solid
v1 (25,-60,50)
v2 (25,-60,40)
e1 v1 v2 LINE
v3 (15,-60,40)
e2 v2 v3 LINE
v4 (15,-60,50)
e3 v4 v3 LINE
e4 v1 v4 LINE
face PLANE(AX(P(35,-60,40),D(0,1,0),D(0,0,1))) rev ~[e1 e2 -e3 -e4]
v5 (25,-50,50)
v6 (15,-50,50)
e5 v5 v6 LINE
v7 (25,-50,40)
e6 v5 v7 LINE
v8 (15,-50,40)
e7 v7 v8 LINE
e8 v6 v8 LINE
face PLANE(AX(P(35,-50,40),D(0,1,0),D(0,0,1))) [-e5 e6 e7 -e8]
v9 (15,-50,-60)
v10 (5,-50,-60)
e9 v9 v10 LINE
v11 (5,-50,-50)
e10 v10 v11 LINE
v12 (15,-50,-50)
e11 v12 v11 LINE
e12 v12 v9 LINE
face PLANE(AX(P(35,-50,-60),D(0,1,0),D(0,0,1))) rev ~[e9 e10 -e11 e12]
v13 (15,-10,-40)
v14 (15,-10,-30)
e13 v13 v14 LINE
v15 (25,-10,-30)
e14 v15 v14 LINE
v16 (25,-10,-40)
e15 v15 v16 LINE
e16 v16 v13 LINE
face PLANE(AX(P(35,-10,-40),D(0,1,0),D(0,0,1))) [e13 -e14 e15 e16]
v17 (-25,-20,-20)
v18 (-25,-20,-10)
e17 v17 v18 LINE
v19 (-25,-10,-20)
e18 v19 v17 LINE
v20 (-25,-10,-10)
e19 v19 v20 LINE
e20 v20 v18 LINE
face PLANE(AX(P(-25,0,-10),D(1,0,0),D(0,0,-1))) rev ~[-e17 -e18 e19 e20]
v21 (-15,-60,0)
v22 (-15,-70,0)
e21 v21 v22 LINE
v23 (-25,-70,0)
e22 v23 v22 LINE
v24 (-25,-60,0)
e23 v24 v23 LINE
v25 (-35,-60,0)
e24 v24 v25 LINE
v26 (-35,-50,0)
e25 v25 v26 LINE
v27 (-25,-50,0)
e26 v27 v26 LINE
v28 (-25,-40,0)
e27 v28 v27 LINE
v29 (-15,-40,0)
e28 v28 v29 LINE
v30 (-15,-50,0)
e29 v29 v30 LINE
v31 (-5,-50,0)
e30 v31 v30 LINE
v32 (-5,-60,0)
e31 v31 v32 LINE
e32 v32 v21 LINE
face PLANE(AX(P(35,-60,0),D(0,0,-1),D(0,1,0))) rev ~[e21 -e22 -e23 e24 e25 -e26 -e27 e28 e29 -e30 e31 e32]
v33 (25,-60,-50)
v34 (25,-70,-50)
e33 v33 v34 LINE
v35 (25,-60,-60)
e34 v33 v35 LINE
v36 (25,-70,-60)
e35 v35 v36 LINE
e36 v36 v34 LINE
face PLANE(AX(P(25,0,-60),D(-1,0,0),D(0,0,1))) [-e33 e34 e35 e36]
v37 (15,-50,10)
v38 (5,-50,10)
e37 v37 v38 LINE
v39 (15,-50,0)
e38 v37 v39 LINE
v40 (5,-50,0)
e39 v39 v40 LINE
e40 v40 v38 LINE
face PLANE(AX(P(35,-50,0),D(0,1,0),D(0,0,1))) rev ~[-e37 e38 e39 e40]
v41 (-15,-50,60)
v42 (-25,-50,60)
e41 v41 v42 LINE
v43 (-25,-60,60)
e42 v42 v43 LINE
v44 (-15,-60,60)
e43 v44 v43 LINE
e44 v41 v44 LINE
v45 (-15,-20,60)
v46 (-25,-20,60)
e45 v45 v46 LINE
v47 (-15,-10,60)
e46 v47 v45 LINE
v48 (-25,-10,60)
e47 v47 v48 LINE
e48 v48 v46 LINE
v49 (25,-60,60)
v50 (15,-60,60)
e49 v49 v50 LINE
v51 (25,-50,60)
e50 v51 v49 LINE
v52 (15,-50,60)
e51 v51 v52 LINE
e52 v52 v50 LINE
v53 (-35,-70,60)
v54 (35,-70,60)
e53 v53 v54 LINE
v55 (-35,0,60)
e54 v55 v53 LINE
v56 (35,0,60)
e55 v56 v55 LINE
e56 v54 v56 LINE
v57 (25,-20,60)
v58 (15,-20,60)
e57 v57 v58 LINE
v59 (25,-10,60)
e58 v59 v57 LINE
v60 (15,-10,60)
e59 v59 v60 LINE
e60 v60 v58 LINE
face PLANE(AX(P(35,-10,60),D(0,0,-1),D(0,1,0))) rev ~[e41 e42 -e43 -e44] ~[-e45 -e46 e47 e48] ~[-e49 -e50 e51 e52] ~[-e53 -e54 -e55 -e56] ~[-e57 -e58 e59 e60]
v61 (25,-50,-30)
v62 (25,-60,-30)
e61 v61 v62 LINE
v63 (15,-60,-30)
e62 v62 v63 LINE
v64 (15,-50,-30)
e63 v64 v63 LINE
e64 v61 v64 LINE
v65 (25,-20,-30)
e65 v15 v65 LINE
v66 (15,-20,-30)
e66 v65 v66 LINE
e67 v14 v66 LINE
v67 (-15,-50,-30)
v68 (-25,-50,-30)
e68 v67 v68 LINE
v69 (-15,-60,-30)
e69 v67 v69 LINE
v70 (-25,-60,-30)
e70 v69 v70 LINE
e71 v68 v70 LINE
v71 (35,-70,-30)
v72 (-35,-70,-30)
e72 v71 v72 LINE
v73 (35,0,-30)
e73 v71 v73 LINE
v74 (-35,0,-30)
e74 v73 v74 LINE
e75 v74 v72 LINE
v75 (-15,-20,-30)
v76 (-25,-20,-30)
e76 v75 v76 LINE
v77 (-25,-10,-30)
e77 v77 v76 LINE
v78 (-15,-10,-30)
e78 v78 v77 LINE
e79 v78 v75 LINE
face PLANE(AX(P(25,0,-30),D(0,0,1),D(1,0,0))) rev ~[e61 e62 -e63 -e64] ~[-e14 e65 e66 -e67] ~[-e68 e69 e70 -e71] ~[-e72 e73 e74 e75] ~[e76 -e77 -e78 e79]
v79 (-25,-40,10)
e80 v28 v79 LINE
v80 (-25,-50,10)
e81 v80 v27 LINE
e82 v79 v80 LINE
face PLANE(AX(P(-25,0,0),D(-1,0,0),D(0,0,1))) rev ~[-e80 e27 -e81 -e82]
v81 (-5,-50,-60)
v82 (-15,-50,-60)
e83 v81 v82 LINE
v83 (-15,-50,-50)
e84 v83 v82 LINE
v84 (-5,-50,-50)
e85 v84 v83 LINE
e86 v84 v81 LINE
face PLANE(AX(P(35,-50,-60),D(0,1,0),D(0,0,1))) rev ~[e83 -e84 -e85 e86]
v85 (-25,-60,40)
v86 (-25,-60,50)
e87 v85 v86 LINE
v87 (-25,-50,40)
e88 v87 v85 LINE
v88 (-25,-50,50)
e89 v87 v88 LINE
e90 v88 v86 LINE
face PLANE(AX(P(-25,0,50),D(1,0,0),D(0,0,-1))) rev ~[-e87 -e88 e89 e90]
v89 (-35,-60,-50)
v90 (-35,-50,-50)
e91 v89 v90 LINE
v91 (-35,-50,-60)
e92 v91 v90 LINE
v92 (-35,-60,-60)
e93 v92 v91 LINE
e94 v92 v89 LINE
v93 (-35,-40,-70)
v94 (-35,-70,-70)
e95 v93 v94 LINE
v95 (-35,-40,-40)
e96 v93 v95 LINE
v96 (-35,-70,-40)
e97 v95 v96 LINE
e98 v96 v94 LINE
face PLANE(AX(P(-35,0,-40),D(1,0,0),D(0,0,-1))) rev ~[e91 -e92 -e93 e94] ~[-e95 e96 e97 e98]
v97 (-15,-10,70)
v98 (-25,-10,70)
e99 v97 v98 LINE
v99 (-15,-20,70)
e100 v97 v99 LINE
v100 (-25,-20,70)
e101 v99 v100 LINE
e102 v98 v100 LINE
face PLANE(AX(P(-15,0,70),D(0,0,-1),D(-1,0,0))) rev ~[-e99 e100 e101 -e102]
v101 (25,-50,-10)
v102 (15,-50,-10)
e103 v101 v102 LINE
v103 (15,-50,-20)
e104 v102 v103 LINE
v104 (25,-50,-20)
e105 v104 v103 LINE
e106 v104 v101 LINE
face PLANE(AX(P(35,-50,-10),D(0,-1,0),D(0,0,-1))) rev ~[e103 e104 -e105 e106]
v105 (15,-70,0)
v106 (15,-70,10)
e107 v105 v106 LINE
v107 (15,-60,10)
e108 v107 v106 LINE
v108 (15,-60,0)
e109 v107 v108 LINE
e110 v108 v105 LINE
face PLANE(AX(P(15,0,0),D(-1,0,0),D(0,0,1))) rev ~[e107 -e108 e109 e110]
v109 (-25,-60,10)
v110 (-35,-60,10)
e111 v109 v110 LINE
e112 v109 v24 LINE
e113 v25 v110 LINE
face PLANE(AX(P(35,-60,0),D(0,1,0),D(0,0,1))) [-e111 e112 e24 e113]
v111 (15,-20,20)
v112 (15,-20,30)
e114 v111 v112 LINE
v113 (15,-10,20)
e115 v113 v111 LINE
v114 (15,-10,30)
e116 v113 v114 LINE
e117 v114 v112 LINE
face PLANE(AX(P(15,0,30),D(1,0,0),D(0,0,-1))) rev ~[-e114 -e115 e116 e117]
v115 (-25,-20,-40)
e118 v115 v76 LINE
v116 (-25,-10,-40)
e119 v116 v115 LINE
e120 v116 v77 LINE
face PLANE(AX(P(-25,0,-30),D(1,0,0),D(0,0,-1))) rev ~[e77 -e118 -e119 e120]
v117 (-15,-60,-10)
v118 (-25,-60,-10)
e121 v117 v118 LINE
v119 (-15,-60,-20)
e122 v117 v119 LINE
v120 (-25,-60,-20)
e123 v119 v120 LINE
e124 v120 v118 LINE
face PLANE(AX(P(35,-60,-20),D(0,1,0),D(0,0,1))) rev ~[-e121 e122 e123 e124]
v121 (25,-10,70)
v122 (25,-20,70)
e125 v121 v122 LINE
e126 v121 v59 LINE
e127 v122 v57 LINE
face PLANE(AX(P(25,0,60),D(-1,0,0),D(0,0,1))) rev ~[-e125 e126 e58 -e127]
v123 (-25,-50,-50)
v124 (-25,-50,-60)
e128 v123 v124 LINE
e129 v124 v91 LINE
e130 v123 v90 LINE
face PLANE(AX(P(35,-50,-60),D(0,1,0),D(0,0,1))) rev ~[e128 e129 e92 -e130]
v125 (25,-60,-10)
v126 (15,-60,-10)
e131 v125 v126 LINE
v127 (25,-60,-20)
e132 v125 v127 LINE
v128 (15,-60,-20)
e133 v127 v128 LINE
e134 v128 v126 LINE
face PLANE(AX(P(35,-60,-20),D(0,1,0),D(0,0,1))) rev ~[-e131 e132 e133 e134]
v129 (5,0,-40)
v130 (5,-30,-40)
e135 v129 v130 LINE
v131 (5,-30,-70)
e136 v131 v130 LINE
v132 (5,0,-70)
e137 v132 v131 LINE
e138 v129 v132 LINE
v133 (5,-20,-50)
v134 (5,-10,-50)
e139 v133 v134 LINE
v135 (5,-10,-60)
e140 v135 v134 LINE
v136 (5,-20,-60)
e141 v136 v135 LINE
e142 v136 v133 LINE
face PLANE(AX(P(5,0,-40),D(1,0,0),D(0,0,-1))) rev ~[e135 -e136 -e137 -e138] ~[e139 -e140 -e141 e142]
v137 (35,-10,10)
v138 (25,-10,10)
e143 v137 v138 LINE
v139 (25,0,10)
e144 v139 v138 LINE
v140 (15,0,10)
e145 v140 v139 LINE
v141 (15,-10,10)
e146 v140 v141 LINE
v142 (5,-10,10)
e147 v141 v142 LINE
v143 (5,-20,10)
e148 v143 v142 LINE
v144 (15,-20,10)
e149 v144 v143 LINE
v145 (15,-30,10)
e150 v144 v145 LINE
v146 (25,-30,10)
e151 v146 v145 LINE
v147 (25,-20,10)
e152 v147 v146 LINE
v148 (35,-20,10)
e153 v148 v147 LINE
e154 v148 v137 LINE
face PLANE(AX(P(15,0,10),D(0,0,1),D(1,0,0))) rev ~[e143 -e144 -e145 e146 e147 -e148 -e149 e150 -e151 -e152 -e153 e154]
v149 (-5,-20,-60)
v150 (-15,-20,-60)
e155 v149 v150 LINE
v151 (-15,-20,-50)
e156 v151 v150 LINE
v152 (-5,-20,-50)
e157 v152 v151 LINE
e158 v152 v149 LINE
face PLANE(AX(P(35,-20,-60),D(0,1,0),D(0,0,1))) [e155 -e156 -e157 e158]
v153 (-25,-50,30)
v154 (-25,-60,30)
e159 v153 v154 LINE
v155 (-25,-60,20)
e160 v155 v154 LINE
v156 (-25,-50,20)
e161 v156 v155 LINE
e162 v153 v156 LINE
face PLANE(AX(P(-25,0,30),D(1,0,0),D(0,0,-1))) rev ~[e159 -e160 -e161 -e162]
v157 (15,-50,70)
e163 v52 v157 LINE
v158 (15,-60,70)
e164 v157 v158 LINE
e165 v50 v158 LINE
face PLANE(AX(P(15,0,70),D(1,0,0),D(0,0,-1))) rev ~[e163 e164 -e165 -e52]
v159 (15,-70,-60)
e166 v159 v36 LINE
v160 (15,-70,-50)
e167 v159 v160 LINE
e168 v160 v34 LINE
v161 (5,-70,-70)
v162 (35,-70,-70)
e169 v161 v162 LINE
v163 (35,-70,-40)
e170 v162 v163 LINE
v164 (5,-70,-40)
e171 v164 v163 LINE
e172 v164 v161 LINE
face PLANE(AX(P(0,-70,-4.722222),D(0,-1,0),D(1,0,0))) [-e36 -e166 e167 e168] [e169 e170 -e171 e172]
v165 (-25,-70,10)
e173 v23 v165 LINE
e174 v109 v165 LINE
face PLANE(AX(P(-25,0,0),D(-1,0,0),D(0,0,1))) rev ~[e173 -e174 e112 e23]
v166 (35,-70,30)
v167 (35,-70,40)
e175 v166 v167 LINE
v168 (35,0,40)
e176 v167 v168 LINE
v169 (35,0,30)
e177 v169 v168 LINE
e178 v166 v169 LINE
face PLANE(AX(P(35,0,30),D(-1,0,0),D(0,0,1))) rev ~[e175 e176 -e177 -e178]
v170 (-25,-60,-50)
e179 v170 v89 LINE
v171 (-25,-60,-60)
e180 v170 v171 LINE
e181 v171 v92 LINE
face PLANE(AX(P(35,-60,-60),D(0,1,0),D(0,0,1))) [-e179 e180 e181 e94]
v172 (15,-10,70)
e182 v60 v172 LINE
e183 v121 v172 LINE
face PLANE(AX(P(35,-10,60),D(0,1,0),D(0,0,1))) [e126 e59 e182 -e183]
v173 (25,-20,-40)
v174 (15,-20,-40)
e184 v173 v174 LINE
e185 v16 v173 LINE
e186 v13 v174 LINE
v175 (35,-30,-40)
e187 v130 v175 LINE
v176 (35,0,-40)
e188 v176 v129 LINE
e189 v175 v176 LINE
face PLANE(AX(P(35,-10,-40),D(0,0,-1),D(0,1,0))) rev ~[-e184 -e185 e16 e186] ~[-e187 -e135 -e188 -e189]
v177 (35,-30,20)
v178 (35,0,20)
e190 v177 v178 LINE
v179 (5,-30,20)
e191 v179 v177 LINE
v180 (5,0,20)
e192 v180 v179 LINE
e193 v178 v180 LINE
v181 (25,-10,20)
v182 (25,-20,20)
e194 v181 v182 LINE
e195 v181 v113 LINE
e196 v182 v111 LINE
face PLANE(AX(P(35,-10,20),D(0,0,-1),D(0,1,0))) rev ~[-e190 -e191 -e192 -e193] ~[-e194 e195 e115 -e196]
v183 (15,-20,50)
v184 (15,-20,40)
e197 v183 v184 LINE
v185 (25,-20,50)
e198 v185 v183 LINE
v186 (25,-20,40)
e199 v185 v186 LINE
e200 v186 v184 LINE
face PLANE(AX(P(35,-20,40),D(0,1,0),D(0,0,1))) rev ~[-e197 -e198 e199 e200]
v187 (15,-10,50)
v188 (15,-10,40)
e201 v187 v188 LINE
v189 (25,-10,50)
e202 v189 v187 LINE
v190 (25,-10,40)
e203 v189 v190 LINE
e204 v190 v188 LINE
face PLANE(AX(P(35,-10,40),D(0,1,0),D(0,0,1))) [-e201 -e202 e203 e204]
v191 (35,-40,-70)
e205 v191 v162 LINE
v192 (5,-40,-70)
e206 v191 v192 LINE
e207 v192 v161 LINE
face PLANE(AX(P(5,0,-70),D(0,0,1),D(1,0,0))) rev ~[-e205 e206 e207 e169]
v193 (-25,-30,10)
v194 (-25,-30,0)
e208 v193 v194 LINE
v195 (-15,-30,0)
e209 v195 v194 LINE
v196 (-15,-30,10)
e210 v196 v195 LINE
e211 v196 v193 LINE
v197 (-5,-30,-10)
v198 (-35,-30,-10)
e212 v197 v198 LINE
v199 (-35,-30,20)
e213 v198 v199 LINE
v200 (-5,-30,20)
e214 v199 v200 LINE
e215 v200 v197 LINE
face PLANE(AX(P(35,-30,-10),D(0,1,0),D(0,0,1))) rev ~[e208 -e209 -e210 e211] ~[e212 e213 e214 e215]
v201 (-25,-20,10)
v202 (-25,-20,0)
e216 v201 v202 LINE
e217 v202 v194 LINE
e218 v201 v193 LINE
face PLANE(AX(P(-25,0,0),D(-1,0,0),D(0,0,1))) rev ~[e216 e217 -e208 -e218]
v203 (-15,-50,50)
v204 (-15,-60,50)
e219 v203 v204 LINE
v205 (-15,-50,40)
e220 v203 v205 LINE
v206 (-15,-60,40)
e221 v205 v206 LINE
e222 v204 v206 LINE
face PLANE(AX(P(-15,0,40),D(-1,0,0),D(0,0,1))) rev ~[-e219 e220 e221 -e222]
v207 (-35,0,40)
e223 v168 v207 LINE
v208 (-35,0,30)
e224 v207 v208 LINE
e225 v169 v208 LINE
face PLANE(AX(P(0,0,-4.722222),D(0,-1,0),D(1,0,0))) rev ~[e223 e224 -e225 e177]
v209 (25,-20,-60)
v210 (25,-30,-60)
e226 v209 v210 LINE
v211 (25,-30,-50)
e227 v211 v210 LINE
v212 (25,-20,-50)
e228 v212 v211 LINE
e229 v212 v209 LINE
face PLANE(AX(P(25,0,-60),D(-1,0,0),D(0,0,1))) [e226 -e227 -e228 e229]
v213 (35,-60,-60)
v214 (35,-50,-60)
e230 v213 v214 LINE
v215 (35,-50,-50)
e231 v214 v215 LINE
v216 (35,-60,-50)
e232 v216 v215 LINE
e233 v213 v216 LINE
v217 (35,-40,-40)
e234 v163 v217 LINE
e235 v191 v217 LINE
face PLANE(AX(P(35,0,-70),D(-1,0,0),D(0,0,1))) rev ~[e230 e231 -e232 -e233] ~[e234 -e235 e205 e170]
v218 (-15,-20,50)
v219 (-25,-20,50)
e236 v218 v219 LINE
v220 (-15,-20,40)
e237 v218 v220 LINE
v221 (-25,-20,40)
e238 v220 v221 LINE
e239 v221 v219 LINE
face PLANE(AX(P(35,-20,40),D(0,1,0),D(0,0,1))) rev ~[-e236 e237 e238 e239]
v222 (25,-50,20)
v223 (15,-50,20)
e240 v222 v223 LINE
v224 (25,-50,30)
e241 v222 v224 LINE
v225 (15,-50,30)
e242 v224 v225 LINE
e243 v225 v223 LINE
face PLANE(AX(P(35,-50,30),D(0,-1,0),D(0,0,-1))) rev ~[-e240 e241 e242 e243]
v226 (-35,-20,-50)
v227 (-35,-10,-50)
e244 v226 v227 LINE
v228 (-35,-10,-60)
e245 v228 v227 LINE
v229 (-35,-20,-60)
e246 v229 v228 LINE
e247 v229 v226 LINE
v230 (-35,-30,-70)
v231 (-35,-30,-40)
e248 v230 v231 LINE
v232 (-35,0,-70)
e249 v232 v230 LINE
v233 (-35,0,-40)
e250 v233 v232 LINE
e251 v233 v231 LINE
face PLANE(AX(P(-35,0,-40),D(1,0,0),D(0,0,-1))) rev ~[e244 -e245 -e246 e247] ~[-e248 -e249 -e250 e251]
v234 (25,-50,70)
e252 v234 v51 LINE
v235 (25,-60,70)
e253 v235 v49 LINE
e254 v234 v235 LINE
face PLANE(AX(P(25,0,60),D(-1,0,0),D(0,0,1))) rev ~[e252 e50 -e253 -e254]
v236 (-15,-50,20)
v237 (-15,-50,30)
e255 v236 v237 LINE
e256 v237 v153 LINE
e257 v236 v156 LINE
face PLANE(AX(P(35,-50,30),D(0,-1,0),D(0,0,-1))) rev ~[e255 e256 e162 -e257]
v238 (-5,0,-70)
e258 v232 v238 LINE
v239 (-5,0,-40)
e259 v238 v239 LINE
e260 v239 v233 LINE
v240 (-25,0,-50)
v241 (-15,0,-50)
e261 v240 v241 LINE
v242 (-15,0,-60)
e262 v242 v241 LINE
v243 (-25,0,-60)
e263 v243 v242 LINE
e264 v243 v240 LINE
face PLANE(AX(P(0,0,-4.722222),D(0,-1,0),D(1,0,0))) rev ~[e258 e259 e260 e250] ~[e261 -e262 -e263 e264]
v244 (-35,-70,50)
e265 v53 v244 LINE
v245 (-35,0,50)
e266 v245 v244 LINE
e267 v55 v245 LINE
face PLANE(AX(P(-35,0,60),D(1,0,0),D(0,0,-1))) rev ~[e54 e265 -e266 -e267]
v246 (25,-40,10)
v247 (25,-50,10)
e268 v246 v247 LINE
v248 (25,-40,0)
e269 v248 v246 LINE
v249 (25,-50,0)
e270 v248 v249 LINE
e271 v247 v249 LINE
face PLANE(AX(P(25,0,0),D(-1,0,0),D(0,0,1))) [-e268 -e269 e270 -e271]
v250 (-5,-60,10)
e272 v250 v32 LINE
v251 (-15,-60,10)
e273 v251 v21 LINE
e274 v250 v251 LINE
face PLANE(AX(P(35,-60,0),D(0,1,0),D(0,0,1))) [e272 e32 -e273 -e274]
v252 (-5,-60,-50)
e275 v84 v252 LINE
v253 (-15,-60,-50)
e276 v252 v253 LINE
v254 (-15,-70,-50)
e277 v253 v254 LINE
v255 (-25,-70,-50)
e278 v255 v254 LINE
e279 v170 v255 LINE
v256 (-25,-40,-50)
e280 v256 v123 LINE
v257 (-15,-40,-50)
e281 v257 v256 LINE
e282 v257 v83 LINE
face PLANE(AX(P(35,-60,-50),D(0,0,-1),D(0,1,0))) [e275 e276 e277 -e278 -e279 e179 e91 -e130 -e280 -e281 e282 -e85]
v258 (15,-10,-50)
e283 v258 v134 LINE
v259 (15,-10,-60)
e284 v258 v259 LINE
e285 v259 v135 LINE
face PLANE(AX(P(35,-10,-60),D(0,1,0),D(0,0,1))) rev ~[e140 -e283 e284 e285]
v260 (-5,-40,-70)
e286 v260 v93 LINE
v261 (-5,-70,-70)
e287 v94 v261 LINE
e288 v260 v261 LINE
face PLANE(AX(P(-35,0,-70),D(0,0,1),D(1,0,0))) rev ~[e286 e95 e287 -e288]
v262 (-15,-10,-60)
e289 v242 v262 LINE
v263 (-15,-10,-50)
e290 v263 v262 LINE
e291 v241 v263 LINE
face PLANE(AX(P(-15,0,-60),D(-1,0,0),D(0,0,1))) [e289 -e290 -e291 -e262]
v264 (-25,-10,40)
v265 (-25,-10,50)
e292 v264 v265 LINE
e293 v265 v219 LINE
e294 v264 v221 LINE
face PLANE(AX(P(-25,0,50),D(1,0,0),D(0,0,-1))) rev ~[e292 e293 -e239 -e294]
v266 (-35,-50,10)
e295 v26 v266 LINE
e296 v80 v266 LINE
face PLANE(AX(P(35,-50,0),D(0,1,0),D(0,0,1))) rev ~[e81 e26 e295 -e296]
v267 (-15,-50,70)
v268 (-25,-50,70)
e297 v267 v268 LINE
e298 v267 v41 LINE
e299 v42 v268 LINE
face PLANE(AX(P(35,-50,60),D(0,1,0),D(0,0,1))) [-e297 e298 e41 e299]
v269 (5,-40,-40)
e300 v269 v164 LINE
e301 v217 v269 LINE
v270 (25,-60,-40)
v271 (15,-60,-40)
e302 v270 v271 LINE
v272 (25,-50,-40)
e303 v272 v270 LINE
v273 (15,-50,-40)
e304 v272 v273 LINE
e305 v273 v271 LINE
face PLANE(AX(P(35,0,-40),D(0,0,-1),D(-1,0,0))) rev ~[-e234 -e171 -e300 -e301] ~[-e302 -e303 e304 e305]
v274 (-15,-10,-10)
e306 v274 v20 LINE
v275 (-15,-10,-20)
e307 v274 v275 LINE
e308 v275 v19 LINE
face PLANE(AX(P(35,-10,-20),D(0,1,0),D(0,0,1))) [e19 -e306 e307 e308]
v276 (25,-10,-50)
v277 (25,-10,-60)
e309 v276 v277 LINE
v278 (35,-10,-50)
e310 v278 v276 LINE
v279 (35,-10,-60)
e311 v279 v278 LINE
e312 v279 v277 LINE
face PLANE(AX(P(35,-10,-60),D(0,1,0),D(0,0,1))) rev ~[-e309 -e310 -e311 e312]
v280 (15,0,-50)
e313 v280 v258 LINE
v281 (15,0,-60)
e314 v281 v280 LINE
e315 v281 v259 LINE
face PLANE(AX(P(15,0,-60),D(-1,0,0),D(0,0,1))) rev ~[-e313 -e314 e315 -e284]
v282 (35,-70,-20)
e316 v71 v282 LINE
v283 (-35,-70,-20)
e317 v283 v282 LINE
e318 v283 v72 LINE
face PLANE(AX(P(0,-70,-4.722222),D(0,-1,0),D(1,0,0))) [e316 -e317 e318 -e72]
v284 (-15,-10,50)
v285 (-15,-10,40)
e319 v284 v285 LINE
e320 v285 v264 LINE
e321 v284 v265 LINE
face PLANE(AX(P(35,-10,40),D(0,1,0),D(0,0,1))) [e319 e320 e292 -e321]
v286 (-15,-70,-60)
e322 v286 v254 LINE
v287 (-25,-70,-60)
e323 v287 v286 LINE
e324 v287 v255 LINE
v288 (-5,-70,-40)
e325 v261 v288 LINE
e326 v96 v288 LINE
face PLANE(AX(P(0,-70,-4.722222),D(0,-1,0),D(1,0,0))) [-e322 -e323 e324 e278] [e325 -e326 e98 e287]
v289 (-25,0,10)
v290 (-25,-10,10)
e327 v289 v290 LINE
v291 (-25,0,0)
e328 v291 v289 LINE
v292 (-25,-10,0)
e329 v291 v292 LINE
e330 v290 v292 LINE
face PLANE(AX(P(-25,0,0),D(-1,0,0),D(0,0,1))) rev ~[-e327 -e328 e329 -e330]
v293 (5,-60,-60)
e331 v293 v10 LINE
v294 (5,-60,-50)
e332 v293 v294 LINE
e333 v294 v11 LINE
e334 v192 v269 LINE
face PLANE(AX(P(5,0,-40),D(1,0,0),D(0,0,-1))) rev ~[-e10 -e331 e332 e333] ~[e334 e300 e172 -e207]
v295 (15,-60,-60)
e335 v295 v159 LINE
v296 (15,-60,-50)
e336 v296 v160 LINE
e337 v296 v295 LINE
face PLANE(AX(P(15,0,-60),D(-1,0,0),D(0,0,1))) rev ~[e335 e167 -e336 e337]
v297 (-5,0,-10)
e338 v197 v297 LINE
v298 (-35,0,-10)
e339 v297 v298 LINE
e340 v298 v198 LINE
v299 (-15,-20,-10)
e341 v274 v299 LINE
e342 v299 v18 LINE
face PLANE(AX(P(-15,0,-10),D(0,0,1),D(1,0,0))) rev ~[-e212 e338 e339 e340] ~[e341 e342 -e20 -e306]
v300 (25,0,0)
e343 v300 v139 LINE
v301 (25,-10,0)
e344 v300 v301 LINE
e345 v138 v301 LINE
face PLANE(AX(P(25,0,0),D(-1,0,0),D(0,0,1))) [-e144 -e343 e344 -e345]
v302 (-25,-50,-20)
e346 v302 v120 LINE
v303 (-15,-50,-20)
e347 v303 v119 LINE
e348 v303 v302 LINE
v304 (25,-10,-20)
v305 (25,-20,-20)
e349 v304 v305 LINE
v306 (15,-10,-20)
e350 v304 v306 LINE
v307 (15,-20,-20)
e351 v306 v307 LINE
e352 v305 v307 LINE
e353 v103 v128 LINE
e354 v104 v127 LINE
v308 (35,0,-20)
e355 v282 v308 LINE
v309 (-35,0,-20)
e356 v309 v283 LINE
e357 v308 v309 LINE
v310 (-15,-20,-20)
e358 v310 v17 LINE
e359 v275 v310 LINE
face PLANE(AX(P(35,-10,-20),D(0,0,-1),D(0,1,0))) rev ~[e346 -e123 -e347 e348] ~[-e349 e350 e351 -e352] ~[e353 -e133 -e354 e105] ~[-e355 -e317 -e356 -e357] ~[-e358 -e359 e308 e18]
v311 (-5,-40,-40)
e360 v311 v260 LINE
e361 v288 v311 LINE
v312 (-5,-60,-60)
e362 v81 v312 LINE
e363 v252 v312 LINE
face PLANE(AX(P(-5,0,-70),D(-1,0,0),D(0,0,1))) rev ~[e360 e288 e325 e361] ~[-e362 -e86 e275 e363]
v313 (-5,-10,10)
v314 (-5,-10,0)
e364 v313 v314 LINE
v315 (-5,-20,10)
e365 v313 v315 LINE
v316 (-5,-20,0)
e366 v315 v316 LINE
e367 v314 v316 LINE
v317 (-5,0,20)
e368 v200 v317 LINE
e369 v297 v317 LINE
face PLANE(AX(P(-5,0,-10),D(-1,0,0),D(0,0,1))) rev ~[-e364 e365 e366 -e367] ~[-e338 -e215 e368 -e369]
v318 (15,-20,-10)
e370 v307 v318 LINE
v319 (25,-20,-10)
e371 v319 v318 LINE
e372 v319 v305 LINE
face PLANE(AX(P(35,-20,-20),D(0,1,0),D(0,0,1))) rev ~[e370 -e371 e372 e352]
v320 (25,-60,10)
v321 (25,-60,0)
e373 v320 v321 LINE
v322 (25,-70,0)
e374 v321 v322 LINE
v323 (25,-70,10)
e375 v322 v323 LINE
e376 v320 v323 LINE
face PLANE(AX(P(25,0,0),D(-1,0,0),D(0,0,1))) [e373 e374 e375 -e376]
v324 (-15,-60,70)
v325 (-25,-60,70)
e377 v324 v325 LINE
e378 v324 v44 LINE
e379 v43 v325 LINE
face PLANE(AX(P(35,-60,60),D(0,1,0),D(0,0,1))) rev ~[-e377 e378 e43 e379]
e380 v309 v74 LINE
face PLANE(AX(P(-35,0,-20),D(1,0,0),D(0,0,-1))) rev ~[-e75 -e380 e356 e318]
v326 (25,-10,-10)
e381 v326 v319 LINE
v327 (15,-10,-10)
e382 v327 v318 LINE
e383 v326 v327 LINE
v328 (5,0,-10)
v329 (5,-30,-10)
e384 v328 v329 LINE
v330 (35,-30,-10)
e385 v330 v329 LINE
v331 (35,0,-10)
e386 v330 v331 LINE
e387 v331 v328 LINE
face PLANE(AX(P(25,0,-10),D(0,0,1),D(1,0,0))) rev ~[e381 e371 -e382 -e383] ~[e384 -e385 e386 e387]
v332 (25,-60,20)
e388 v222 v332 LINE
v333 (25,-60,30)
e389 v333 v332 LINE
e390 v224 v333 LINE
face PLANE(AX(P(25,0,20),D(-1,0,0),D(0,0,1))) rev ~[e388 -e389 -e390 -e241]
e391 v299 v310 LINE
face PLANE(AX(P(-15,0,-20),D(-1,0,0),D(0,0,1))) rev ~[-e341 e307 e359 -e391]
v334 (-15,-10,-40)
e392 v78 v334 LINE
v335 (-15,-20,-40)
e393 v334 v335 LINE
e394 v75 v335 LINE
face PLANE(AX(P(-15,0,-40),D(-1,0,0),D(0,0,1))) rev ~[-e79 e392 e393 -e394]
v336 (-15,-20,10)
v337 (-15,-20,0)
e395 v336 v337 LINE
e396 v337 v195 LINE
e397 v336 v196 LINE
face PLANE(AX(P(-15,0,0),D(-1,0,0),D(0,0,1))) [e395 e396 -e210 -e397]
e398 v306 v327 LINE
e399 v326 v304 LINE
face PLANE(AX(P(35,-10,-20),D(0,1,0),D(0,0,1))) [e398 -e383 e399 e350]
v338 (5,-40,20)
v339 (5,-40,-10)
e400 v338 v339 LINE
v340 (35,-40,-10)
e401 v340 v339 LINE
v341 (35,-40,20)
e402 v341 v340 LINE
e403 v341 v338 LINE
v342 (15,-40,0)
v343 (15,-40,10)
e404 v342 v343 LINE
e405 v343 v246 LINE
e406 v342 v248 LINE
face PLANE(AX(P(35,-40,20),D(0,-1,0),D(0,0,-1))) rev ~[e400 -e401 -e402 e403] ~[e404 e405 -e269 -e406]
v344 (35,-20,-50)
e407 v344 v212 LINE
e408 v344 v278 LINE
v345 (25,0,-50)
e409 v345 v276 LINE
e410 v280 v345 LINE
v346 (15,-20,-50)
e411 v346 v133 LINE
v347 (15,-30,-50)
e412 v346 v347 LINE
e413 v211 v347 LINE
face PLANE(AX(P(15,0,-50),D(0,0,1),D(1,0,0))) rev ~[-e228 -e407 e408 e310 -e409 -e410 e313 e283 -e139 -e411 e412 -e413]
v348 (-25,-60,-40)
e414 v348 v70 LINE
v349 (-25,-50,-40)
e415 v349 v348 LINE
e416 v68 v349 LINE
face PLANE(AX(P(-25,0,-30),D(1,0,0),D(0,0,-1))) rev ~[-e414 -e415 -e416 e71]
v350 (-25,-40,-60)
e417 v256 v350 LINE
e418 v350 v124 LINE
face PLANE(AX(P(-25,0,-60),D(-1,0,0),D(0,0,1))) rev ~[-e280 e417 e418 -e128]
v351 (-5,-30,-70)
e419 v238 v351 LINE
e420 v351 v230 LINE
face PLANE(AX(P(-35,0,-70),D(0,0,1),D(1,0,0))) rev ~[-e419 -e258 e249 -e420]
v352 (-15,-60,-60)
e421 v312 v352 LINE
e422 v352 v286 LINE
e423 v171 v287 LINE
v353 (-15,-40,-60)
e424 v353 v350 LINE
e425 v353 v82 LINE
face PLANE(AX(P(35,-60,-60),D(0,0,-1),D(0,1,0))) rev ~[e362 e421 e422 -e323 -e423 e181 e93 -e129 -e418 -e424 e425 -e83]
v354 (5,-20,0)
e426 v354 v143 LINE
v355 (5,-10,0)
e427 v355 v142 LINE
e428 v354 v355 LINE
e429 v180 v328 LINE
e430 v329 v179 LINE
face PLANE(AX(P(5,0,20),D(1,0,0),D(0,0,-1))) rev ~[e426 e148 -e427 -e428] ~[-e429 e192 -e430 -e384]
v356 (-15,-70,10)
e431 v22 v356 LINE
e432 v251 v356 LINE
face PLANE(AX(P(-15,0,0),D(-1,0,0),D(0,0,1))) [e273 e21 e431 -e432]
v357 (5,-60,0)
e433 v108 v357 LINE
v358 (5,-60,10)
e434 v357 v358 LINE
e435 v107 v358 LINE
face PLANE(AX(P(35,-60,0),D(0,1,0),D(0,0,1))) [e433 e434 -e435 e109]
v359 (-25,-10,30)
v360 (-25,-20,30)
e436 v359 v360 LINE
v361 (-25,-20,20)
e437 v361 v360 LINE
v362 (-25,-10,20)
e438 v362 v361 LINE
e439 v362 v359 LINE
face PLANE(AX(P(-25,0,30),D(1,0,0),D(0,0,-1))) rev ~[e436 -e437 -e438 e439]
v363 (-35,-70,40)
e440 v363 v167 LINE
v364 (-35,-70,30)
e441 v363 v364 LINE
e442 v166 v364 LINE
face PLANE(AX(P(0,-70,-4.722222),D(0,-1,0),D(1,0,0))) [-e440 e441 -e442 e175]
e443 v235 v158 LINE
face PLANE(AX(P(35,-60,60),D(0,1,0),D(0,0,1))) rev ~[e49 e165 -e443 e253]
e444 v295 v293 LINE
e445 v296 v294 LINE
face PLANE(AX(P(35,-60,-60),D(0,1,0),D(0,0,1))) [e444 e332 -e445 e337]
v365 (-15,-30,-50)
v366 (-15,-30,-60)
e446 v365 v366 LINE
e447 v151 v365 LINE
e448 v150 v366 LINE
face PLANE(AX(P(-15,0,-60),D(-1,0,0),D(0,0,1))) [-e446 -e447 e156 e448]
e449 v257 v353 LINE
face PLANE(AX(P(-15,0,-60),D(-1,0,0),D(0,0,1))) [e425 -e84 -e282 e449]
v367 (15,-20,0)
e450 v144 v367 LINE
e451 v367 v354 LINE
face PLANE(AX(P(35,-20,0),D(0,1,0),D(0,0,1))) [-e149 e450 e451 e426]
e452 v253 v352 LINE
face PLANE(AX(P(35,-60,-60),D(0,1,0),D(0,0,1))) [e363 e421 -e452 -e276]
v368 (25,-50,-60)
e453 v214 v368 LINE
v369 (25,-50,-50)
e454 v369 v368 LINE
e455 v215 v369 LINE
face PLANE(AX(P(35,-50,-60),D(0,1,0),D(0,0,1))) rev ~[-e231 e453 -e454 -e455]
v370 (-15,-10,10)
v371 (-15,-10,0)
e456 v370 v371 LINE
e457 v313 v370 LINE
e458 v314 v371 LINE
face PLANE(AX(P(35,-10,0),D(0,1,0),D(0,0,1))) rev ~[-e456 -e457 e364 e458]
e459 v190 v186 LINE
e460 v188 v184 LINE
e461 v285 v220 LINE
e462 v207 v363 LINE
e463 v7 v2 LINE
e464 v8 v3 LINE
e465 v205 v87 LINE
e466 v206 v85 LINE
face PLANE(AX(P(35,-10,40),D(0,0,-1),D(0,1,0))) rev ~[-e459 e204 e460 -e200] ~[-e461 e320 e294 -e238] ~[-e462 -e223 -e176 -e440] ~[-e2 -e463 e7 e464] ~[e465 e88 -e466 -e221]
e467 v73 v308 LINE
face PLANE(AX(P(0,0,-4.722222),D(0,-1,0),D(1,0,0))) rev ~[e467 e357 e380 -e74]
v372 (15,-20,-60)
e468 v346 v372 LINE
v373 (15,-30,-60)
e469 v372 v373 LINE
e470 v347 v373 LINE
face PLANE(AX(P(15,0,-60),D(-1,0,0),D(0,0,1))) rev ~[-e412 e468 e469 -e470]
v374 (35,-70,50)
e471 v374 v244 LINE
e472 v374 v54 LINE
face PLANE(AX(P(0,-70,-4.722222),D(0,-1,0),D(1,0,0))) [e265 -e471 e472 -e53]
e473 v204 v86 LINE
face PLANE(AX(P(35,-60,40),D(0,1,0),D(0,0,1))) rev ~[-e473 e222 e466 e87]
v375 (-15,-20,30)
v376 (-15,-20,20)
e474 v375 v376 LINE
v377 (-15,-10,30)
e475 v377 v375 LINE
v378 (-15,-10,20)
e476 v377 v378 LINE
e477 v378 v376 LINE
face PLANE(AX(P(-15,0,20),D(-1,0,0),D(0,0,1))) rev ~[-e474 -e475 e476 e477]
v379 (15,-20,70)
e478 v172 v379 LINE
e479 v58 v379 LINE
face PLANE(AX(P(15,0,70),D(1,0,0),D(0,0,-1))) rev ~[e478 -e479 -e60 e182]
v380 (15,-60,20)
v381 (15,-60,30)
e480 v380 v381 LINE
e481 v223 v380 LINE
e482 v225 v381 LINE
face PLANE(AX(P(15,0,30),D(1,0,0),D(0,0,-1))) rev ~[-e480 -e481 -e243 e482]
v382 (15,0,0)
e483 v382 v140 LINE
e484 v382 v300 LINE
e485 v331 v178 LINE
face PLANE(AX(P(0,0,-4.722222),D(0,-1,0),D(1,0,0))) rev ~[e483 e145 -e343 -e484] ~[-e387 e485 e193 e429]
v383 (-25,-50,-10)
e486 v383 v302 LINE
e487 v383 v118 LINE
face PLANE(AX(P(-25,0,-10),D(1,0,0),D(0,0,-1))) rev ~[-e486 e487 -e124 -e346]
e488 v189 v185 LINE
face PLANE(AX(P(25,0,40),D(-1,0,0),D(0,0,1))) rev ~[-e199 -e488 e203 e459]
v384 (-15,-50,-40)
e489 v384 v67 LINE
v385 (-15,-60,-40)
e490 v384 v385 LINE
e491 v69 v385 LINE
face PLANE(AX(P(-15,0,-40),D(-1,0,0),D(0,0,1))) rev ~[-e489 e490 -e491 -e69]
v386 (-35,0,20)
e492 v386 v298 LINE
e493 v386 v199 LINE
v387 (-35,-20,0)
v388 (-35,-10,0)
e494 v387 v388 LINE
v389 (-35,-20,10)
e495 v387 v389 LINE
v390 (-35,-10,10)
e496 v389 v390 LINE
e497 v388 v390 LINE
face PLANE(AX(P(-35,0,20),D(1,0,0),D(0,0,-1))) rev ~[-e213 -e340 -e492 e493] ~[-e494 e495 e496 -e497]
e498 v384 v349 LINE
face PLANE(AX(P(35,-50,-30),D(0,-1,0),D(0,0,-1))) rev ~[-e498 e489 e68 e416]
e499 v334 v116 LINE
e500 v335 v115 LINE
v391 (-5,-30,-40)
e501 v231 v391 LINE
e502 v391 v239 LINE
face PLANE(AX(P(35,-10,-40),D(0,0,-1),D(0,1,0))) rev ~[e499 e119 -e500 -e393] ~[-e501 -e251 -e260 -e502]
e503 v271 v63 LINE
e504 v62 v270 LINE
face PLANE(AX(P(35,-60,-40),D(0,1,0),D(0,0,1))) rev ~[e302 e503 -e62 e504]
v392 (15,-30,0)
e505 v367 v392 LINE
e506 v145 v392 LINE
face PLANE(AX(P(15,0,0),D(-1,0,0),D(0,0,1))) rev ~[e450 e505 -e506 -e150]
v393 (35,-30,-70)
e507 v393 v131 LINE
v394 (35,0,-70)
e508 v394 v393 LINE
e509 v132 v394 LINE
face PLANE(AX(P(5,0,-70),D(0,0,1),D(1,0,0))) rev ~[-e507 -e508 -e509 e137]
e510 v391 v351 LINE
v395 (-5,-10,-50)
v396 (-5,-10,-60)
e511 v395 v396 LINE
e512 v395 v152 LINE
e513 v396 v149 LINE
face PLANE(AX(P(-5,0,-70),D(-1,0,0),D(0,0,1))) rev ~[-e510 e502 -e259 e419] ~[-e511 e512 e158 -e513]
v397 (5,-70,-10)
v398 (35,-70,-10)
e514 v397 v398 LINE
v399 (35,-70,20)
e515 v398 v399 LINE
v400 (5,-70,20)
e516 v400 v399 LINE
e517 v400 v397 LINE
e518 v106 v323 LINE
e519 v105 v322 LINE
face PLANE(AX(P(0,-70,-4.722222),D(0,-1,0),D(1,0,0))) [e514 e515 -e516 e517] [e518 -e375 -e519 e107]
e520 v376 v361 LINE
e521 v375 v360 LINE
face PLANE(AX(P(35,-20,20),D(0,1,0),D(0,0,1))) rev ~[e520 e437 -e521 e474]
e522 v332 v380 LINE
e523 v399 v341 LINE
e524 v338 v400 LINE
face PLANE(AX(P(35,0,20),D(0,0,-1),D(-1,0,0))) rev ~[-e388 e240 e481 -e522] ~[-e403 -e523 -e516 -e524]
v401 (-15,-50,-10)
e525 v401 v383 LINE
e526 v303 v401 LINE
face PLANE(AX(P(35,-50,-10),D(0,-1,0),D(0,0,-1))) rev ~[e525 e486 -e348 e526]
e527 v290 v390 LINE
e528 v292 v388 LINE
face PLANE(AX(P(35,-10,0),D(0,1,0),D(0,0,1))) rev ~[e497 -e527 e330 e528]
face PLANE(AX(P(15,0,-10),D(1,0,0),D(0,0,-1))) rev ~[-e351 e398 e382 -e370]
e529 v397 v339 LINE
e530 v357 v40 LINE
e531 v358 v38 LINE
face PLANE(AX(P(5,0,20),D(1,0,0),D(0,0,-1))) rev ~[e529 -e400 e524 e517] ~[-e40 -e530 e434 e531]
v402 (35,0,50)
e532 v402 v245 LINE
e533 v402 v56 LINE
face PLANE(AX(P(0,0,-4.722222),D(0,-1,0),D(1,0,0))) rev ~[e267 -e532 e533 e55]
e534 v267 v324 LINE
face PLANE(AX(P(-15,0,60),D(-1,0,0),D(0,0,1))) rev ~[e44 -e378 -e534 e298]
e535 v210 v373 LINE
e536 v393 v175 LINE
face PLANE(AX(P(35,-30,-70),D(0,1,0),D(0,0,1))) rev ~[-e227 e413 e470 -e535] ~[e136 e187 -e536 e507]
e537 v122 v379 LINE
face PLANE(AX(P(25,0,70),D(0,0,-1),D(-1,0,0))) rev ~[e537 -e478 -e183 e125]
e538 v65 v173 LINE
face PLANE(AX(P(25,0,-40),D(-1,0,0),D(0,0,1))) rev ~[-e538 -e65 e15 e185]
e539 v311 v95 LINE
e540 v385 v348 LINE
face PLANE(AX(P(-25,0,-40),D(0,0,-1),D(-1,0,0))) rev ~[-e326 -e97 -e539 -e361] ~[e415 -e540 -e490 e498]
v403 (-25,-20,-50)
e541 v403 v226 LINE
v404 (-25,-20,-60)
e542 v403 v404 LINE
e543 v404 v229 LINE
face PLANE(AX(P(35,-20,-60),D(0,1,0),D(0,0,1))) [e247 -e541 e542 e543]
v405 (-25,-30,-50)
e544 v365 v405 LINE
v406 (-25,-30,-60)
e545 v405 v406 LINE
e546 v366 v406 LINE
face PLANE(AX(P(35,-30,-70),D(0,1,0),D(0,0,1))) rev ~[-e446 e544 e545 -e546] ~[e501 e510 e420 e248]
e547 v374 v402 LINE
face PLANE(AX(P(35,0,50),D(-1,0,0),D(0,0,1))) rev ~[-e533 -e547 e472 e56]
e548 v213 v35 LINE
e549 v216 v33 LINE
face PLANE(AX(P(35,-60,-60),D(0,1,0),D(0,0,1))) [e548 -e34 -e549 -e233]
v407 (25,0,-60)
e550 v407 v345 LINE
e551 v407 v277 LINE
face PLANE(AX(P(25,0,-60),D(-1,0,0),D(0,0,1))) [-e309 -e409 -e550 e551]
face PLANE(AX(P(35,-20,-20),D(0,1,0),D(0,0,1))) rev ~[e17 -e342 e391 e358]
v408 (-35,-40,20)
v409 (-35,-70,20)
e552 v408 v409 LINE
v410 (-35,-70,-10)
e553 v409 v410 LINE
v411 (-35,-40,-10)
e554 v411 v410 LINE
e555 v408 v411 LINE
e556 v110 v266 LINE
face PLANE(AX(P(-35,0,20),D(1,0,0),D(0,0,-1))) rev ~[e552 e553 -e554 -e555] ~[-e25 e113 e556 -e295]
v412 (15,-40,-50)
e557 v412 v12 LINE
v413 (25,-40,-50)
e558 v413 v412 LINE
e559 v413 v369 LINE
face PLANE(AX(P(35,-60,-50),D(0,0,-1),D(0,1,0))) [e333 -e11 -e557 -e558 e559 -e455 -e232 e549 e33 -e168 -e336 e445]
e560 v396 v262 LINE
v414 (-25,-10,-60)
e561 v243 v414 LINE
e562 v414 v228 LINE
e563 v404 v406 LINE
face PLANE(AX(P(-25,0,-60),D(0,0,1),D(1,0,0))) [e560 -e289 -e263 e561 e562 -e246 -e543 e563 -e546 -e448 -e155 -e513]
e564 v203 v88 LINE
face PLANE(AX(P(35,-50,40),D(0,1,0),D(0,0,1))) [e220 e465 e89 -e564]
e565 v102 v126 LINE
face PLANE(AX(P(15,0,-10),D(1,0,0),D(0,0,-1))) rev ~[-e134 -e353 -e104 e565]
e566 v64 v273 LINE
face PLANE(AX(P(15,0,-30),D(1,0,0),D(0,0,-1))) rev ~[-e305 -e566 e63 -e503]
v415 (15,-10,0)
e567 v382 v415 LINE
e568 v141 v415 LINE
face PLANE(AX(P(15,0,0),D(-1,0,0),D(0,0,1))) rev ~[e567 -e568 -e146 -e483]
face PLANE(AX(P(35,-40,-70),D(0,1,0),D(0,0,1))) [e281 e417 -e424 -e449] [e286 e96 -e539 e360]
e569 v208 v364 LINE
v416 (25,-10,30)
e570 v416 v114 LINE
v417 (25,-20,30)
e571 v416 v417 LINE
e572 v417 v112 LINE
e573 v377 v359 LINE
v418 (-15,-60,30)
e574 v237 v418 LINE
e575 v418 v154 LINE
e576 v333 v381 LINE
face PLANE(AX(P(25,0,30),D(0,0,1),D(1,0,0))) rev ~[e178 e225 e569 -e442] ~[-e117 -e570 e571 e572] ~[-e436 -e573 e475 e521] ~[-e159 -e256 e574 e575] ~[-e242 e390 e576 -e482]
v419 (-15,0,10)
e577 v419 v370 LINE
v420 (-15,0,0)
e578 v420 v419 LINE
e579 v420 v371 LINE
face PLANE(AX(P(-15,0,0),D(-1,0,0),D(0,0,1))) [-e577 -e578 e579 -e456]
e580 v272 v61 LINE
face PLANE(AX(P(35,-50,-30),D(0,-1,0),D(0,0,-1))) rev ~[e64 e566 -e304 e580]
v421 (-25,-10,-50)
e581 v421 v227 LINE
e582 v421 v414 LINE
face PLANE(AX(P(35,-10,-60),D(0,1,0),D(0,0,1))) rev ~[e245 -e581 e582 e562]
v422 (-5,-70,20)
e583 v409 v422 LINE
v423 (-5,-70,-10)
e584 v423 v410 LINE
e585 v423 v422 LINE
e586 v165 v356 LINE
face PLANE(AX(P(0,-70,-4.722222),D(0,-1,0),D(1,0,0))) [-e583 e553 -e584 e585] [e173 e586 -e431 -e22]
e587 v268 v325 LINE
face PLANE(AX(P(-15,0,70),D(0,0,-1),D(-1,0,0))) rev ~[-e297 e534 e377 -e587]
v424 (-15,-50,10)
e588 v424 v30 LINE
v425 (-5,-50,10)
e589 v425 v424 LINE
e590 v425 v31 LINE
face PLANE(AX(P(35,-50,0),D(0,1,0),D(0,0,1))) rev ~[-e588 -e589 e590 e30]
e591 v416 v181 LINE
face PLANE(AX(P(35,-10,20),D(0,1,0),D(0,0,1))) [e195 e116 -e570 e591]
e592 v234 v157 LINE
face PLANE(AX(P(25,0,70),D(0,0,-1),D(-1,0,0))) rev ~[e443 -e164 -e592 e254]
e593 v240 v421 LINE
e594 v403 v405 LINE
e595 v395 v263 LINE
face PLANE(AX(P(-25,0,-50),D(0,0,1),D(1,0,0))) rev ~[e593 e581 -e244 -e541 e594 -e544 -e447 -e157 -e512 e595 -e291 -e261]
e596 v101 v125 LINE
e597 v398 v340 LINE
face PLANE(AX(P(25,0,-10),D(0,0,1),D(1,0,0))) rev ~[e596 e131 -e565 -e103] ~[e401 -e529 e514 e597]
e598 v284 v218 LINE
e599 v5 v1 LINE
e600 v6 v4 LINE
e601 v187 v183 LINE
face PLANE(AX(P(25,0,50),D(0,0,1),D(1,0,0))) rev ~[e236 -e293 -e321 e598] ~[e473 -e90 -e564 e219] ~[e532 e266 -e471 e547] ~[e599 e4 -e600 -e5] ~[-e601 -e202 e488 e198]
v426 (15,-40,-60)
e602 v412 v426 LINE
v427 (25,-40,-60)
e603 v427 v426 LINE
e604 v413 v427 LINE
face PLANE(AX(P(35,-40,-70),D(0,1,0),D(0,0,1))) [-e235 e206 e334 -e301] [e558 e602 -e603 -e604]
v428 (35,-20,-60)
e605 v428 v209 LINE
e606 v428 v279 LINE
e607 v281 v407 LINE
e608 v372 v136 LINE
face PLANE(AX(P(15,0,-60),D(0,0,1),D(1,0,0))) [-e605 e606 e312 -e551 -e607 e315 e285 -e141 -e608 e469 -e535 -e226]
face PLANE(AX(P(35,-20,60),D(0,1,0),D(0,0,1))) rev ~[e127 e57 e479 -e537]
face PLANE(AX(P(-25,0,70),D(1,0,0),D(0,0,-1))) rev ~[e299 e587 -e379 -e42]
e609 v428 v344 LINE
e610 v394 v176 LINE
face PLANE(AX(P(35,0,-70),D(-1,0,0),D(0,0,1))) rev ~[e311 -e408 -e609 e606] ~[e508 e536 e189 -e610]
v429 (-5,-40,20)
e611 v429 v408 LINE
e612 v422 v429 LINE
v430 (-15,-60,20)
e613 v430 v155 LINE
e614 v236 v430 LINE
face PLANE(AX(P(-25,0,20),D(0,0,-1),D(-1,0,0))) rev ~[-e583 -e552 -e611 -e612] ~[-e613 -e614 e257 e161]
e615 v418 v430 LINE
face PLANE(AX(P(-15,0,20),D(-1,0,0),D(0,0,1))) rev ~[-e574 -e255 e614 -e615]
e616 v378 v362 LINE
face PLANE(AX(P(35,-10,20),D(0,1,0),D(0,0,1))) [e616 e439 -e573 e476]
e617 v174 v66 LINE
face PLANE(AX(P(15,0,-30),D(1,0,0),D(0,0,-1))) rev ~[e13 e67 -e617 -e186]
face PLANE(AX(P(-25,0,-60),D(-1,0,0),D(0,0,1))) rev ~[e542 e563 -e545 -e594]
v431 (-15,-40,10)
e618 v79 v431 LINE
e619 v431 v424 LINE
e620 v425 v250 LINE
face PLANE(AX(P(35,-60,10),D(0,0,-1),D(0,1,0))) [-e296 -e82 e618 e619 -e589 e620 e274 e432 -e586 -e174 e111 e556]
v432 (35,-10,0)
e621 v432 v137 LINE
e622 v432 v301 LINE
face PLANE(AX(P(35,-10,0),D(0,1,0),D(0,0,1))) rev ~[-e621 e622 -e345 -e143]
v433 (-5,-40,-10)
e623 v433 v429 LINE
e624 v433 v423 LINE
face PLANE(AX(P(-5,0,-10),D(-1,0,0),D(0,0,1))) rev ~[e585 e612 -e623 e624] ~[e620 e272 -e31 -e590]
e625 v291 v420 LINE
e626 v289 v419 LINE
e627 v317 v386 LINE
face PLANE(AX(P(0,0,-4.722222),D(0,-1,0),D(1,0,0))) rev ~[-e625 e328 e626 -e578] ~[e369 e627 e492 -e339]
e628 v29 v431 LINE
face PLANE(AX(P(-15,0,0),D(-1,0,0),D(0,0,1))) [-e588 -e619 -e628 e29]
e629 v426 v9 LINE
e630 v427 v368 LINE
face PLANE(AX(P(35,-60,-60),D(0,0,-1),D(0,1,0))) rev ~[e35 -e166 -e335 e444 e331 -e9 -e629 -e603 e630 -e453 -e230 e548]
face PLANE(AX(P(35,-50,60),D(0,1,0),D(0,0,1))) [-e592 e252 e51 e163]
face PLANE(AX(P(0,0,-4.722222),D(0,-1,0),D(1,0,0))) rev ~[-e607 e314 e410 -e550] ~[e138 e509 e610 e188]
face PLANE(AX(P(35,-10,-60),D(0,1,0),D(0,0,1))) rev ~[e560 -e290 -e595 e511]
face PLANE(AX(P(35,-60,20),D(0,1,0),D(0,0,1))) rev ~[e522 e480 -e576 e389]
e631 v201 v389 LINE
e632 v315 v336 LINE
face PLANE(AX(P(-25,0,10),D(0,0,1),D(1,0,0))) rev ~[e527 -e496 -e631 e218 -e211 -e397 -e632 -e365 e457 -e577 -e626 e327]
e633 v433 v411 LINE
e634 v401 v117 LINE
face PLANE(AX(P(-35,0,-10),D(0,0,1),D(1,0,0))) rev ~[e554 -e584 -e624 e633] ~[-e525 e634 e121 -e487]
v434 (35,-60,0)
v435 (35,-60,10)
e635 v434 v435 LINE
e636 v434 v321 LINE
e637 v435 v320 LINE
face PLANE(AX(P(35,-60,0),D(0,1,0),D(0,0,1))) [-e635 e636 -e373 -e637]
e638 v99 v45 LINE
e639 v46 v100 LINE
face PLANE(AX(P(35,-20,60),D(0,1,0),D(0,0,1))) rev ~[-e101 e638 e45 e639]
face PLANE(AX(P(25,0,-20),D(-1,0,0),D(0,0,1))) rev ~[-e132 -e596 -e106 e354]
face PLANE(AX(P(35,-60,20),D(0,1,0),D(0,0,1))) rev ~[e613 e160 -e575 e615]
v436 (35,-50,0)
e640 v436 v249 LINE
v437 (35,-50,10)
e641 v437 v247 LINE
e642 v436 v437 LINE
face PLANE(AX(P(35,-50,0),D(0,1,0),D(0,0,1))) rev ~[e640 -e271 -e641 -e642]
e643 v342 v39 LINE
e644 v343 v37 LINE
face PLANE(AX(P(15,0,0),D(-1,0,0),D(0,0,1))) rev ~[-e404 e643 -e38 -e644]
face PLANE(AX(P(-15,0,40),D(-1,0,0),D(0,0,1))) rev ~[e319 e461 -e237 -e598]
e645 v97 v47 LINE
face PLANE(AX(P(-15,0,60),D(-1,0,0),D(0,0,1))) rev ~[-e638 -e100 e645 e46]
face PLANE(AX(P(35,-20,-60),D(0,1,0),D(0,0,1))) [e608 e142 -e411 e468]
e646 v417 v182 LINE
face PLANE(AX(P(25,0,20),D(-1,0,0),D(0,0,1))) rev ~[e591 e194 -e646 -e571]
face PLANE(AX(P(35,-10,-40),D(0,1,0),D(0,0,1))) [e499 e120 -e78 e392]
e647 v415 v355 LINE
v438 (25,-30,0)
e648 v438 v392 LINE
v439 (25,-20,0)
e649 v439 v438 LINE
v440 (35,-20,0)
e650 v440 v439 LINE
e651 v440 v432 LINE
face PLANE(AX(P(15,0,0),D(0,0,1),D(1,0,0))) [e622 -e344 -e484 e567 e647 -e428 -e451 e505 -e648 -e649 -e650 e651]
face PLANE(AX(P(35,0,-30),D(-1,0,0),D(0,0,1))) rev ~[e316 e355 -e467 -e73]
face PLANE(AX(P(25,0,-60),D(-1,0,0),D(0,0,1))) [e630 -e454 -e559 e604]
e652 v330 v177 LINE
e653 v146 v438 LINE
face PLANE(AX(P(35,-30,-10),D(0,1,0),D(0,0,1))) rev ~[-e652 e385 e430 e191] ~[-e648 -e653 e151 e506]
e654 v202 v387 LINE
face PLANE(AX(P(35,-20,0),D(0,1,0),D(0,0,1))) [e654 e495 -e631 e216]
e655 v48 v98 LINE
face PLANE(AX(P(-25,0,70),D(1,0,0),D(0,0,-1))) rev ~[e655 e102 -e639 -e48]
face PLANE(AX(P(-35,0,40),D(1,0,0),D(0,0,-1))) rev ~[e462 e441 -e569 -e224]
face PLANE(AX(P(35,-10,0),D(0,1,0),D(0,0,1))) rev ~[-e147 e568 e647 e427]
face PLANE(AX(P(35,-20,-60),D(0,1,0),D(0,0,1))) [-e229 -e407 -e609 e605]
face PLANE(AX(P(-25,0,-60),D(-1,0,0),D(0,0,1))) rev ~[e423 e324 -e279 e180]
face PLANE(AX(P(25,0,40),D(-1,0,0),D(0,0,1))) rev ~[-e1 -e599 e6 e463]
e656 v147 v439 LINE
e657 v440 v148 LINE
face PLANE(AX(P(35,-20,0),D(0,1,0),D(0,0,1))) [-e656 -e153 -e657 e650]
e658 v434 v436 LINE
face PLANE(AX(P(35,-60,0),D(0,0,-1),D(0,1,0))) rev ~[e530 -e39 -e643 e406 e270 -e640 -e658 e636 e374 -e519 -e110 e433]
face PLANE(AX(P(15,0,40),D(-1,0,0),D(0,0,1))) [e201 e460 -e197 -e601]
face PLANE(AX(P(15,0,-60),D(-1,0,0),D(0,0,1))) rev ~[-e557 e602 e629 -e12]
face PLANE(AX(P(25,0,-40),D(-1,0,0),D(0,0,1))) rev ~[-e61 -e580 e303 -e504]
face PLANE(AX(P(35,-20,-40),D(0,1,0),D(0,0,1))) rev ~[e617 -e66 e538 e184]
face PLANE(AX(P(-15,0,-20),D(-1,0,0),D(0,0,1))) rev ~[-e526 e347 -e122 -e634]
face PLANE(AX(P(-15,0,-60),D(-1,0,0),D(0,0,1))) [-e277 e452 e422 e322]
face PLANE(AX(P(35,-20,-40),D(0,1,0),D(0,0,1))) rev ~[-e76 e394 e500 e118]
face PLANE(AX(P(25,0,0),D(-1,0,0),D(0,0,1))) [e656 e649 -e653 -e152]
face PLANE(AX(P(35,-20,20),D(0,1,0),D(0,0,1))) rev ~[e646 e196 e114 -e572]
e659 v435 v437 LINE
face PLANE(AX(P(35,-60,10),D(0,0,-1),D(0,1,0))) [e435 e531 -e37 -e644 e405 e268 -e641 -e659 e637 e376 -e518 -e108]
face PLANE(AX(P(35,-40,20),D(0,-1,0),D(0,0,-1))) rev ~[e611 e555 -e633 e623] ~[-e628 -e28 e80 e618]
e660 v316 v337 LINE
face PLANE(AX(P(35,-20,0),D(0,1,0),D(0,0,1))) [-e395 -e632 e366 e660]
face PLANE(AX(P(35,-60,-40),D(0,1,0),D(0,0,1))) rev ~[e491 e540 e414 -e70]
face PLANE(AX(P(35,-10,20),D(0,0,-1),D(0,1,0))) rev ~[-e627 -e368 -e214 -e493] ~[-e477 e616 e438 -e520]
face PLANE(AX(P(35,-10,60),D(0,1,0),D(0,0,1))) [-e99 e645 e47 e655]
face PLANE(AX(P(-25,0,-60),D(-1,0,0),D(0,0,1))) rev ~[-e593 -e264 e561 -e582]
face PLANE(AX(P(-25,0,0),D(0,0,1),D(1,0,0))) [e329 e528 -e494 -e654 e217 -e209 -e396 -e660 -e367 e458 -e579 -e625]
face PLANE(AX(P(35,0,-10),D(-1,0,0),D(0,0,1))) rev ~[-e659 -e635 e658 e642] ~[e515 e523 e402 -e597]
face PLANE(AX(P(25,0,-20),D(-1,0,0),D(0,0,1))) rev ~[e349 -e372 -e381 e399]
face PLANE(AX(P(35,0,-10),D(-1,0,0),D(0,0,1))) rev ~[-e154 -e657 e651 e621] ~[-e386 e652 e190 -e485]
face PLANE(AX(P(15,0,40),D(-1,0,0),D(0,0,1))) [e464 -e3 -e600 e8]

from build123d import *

# Parameters (mm, degrees)
F0_W     = 10
F0_H     = 10
F0_W_2   = 30
F1_DEPTH = 70
F2_W     = 10
F2_H     = 10
F2_W_2   = 30
F2_H_2   = 30
F3_DEPTH = 100


with BuildPart() as f1:
    # F0 (on Front) → F1 (new body)
    with BuildSketch(Plane.XZ):
        Polygon((-15, 70), (-25, 70), (-25, 60), (-35, 60), (-35, 50), (-25, 50), (-25, 40), (-35, 40), (-35, 30), (-25, 30), (-25, 20), (-35, 20), (-35, -10), (-25, -10), (-25, -20), (-35, -20), (-35, -30), (-25, -30), (-25, -40), (-35, -40), (-35, -70), (-5, -70), (-5, -40), (-15, -40), (-15, -30), (15, -30), (15, -40), (5, -40), (5, -70), (35, -70), (35, -40), (25, -40), (25, -30), (35, -30), (35, -20), (25, -20), (25, -10), (35, -10), (35, 20), (25, 20), (25, 30), (35, 30), (35, 40), (25, 40), (25, 50), (35, 50), (35, 60), (25, 60), (25, 70), (15, 70), (15, 60), (-15, 60), align=None)
        with Locations((-20, -55)):
            Rectangle(F0_W, F0_H, mode=Mode.SUBTRACT)
        with Locations((20, -55)):
            Rectangle(F0_W, F0_H, mode=Mode.SUBTRACT)
        with Locations((-20, 5)):
            Rectangle(F0_W, F0_H, mode=Mode.SUBTRACT)
        Polygon((-5, -10), (-5, 20), (-15, 20), (-15, 30), (15, 30), (15, 20), (5, 20), (5, -10), (15, -10), (15, -20), (-15, -20), (-15, -10), align=None, mode=Mode.SUBTRACT)
        with Locations((20, 5)):
            Rectangle(F0_W, F0_H, mode=Mode.SUBTRACT)
        with Locations((0, 45)):
            Rectangle(F0_W_2, F0_H, mode=Mode.SUBTRACT)
    extrude(amount=F1_DEPTH)

    # F2 (on face) → F3 (cut)
    with BuildSketch(Plane.YZ.offset(35)):
        Polygon((-20, 30), (-50, 30), (-50, 20), (-40, 20), (-40, -10), (-50, -10), (-50, -20), (-20, -20), (-20, -10), (-30, -10), (-30, 20), (-20, 20), align=None)
        with Locations((-5, -15)):
            Rectangle(F2_W, F2_H)
        with Locations((-15, 5)):
            Rectangle(F2_W, F2_H)
        with Locations((-55, 5)):
            Rectangle(F2_W, F2_H)
        with Locations((-65, 25)):
            Rectangle(F2_W, F2_H)
        with Locations((-5, 25)):
            Rectangle(F2_W, F2_H)
        with Locations((-5, 45)):
            Rectangle(F2_W, F2_H)
        with Locations((-35, 45)):
            Rectangle(F2_W_2, F2_H)
        with Locations((-65, 45)):
            Rectangle(F2_W, F2_H)
        with Locations((-65, 65)):
            Rectangle(F2_W, F2_H)
        with Locations((-35, 65)):
            Rectangle(F2_W_2, F2_H)
        with Locations((-5, 65)):
            Rectangle(F2_W, F2_H)
        with Locations((-65, -15)):
            Rectangle(F2_W, F2_H)
        with Locations((-65, -35)):
            Rectangle(F2_W, F2_H)
        Polygon((-40, -40), (-30, -40), (-20, -40), (-20, -30), (-50, -30), (-50, -40), align=None)
        with Locations((-5, -35)):
            Rectangle(F2_W, F2_H)
        with Locations((-15, -55)):
            Rectangle(F2_W, F2_H)
        with Locations((-55, -55)):
            Rectangle(F2_W, F2_H)
        with Locations((-35, -55)):
            Rectangle(F2_W, F2_H_2)
    extrude(amount=-F3_DEPTH, mode=Mode.SUBTRACT)


solid = f1.part
